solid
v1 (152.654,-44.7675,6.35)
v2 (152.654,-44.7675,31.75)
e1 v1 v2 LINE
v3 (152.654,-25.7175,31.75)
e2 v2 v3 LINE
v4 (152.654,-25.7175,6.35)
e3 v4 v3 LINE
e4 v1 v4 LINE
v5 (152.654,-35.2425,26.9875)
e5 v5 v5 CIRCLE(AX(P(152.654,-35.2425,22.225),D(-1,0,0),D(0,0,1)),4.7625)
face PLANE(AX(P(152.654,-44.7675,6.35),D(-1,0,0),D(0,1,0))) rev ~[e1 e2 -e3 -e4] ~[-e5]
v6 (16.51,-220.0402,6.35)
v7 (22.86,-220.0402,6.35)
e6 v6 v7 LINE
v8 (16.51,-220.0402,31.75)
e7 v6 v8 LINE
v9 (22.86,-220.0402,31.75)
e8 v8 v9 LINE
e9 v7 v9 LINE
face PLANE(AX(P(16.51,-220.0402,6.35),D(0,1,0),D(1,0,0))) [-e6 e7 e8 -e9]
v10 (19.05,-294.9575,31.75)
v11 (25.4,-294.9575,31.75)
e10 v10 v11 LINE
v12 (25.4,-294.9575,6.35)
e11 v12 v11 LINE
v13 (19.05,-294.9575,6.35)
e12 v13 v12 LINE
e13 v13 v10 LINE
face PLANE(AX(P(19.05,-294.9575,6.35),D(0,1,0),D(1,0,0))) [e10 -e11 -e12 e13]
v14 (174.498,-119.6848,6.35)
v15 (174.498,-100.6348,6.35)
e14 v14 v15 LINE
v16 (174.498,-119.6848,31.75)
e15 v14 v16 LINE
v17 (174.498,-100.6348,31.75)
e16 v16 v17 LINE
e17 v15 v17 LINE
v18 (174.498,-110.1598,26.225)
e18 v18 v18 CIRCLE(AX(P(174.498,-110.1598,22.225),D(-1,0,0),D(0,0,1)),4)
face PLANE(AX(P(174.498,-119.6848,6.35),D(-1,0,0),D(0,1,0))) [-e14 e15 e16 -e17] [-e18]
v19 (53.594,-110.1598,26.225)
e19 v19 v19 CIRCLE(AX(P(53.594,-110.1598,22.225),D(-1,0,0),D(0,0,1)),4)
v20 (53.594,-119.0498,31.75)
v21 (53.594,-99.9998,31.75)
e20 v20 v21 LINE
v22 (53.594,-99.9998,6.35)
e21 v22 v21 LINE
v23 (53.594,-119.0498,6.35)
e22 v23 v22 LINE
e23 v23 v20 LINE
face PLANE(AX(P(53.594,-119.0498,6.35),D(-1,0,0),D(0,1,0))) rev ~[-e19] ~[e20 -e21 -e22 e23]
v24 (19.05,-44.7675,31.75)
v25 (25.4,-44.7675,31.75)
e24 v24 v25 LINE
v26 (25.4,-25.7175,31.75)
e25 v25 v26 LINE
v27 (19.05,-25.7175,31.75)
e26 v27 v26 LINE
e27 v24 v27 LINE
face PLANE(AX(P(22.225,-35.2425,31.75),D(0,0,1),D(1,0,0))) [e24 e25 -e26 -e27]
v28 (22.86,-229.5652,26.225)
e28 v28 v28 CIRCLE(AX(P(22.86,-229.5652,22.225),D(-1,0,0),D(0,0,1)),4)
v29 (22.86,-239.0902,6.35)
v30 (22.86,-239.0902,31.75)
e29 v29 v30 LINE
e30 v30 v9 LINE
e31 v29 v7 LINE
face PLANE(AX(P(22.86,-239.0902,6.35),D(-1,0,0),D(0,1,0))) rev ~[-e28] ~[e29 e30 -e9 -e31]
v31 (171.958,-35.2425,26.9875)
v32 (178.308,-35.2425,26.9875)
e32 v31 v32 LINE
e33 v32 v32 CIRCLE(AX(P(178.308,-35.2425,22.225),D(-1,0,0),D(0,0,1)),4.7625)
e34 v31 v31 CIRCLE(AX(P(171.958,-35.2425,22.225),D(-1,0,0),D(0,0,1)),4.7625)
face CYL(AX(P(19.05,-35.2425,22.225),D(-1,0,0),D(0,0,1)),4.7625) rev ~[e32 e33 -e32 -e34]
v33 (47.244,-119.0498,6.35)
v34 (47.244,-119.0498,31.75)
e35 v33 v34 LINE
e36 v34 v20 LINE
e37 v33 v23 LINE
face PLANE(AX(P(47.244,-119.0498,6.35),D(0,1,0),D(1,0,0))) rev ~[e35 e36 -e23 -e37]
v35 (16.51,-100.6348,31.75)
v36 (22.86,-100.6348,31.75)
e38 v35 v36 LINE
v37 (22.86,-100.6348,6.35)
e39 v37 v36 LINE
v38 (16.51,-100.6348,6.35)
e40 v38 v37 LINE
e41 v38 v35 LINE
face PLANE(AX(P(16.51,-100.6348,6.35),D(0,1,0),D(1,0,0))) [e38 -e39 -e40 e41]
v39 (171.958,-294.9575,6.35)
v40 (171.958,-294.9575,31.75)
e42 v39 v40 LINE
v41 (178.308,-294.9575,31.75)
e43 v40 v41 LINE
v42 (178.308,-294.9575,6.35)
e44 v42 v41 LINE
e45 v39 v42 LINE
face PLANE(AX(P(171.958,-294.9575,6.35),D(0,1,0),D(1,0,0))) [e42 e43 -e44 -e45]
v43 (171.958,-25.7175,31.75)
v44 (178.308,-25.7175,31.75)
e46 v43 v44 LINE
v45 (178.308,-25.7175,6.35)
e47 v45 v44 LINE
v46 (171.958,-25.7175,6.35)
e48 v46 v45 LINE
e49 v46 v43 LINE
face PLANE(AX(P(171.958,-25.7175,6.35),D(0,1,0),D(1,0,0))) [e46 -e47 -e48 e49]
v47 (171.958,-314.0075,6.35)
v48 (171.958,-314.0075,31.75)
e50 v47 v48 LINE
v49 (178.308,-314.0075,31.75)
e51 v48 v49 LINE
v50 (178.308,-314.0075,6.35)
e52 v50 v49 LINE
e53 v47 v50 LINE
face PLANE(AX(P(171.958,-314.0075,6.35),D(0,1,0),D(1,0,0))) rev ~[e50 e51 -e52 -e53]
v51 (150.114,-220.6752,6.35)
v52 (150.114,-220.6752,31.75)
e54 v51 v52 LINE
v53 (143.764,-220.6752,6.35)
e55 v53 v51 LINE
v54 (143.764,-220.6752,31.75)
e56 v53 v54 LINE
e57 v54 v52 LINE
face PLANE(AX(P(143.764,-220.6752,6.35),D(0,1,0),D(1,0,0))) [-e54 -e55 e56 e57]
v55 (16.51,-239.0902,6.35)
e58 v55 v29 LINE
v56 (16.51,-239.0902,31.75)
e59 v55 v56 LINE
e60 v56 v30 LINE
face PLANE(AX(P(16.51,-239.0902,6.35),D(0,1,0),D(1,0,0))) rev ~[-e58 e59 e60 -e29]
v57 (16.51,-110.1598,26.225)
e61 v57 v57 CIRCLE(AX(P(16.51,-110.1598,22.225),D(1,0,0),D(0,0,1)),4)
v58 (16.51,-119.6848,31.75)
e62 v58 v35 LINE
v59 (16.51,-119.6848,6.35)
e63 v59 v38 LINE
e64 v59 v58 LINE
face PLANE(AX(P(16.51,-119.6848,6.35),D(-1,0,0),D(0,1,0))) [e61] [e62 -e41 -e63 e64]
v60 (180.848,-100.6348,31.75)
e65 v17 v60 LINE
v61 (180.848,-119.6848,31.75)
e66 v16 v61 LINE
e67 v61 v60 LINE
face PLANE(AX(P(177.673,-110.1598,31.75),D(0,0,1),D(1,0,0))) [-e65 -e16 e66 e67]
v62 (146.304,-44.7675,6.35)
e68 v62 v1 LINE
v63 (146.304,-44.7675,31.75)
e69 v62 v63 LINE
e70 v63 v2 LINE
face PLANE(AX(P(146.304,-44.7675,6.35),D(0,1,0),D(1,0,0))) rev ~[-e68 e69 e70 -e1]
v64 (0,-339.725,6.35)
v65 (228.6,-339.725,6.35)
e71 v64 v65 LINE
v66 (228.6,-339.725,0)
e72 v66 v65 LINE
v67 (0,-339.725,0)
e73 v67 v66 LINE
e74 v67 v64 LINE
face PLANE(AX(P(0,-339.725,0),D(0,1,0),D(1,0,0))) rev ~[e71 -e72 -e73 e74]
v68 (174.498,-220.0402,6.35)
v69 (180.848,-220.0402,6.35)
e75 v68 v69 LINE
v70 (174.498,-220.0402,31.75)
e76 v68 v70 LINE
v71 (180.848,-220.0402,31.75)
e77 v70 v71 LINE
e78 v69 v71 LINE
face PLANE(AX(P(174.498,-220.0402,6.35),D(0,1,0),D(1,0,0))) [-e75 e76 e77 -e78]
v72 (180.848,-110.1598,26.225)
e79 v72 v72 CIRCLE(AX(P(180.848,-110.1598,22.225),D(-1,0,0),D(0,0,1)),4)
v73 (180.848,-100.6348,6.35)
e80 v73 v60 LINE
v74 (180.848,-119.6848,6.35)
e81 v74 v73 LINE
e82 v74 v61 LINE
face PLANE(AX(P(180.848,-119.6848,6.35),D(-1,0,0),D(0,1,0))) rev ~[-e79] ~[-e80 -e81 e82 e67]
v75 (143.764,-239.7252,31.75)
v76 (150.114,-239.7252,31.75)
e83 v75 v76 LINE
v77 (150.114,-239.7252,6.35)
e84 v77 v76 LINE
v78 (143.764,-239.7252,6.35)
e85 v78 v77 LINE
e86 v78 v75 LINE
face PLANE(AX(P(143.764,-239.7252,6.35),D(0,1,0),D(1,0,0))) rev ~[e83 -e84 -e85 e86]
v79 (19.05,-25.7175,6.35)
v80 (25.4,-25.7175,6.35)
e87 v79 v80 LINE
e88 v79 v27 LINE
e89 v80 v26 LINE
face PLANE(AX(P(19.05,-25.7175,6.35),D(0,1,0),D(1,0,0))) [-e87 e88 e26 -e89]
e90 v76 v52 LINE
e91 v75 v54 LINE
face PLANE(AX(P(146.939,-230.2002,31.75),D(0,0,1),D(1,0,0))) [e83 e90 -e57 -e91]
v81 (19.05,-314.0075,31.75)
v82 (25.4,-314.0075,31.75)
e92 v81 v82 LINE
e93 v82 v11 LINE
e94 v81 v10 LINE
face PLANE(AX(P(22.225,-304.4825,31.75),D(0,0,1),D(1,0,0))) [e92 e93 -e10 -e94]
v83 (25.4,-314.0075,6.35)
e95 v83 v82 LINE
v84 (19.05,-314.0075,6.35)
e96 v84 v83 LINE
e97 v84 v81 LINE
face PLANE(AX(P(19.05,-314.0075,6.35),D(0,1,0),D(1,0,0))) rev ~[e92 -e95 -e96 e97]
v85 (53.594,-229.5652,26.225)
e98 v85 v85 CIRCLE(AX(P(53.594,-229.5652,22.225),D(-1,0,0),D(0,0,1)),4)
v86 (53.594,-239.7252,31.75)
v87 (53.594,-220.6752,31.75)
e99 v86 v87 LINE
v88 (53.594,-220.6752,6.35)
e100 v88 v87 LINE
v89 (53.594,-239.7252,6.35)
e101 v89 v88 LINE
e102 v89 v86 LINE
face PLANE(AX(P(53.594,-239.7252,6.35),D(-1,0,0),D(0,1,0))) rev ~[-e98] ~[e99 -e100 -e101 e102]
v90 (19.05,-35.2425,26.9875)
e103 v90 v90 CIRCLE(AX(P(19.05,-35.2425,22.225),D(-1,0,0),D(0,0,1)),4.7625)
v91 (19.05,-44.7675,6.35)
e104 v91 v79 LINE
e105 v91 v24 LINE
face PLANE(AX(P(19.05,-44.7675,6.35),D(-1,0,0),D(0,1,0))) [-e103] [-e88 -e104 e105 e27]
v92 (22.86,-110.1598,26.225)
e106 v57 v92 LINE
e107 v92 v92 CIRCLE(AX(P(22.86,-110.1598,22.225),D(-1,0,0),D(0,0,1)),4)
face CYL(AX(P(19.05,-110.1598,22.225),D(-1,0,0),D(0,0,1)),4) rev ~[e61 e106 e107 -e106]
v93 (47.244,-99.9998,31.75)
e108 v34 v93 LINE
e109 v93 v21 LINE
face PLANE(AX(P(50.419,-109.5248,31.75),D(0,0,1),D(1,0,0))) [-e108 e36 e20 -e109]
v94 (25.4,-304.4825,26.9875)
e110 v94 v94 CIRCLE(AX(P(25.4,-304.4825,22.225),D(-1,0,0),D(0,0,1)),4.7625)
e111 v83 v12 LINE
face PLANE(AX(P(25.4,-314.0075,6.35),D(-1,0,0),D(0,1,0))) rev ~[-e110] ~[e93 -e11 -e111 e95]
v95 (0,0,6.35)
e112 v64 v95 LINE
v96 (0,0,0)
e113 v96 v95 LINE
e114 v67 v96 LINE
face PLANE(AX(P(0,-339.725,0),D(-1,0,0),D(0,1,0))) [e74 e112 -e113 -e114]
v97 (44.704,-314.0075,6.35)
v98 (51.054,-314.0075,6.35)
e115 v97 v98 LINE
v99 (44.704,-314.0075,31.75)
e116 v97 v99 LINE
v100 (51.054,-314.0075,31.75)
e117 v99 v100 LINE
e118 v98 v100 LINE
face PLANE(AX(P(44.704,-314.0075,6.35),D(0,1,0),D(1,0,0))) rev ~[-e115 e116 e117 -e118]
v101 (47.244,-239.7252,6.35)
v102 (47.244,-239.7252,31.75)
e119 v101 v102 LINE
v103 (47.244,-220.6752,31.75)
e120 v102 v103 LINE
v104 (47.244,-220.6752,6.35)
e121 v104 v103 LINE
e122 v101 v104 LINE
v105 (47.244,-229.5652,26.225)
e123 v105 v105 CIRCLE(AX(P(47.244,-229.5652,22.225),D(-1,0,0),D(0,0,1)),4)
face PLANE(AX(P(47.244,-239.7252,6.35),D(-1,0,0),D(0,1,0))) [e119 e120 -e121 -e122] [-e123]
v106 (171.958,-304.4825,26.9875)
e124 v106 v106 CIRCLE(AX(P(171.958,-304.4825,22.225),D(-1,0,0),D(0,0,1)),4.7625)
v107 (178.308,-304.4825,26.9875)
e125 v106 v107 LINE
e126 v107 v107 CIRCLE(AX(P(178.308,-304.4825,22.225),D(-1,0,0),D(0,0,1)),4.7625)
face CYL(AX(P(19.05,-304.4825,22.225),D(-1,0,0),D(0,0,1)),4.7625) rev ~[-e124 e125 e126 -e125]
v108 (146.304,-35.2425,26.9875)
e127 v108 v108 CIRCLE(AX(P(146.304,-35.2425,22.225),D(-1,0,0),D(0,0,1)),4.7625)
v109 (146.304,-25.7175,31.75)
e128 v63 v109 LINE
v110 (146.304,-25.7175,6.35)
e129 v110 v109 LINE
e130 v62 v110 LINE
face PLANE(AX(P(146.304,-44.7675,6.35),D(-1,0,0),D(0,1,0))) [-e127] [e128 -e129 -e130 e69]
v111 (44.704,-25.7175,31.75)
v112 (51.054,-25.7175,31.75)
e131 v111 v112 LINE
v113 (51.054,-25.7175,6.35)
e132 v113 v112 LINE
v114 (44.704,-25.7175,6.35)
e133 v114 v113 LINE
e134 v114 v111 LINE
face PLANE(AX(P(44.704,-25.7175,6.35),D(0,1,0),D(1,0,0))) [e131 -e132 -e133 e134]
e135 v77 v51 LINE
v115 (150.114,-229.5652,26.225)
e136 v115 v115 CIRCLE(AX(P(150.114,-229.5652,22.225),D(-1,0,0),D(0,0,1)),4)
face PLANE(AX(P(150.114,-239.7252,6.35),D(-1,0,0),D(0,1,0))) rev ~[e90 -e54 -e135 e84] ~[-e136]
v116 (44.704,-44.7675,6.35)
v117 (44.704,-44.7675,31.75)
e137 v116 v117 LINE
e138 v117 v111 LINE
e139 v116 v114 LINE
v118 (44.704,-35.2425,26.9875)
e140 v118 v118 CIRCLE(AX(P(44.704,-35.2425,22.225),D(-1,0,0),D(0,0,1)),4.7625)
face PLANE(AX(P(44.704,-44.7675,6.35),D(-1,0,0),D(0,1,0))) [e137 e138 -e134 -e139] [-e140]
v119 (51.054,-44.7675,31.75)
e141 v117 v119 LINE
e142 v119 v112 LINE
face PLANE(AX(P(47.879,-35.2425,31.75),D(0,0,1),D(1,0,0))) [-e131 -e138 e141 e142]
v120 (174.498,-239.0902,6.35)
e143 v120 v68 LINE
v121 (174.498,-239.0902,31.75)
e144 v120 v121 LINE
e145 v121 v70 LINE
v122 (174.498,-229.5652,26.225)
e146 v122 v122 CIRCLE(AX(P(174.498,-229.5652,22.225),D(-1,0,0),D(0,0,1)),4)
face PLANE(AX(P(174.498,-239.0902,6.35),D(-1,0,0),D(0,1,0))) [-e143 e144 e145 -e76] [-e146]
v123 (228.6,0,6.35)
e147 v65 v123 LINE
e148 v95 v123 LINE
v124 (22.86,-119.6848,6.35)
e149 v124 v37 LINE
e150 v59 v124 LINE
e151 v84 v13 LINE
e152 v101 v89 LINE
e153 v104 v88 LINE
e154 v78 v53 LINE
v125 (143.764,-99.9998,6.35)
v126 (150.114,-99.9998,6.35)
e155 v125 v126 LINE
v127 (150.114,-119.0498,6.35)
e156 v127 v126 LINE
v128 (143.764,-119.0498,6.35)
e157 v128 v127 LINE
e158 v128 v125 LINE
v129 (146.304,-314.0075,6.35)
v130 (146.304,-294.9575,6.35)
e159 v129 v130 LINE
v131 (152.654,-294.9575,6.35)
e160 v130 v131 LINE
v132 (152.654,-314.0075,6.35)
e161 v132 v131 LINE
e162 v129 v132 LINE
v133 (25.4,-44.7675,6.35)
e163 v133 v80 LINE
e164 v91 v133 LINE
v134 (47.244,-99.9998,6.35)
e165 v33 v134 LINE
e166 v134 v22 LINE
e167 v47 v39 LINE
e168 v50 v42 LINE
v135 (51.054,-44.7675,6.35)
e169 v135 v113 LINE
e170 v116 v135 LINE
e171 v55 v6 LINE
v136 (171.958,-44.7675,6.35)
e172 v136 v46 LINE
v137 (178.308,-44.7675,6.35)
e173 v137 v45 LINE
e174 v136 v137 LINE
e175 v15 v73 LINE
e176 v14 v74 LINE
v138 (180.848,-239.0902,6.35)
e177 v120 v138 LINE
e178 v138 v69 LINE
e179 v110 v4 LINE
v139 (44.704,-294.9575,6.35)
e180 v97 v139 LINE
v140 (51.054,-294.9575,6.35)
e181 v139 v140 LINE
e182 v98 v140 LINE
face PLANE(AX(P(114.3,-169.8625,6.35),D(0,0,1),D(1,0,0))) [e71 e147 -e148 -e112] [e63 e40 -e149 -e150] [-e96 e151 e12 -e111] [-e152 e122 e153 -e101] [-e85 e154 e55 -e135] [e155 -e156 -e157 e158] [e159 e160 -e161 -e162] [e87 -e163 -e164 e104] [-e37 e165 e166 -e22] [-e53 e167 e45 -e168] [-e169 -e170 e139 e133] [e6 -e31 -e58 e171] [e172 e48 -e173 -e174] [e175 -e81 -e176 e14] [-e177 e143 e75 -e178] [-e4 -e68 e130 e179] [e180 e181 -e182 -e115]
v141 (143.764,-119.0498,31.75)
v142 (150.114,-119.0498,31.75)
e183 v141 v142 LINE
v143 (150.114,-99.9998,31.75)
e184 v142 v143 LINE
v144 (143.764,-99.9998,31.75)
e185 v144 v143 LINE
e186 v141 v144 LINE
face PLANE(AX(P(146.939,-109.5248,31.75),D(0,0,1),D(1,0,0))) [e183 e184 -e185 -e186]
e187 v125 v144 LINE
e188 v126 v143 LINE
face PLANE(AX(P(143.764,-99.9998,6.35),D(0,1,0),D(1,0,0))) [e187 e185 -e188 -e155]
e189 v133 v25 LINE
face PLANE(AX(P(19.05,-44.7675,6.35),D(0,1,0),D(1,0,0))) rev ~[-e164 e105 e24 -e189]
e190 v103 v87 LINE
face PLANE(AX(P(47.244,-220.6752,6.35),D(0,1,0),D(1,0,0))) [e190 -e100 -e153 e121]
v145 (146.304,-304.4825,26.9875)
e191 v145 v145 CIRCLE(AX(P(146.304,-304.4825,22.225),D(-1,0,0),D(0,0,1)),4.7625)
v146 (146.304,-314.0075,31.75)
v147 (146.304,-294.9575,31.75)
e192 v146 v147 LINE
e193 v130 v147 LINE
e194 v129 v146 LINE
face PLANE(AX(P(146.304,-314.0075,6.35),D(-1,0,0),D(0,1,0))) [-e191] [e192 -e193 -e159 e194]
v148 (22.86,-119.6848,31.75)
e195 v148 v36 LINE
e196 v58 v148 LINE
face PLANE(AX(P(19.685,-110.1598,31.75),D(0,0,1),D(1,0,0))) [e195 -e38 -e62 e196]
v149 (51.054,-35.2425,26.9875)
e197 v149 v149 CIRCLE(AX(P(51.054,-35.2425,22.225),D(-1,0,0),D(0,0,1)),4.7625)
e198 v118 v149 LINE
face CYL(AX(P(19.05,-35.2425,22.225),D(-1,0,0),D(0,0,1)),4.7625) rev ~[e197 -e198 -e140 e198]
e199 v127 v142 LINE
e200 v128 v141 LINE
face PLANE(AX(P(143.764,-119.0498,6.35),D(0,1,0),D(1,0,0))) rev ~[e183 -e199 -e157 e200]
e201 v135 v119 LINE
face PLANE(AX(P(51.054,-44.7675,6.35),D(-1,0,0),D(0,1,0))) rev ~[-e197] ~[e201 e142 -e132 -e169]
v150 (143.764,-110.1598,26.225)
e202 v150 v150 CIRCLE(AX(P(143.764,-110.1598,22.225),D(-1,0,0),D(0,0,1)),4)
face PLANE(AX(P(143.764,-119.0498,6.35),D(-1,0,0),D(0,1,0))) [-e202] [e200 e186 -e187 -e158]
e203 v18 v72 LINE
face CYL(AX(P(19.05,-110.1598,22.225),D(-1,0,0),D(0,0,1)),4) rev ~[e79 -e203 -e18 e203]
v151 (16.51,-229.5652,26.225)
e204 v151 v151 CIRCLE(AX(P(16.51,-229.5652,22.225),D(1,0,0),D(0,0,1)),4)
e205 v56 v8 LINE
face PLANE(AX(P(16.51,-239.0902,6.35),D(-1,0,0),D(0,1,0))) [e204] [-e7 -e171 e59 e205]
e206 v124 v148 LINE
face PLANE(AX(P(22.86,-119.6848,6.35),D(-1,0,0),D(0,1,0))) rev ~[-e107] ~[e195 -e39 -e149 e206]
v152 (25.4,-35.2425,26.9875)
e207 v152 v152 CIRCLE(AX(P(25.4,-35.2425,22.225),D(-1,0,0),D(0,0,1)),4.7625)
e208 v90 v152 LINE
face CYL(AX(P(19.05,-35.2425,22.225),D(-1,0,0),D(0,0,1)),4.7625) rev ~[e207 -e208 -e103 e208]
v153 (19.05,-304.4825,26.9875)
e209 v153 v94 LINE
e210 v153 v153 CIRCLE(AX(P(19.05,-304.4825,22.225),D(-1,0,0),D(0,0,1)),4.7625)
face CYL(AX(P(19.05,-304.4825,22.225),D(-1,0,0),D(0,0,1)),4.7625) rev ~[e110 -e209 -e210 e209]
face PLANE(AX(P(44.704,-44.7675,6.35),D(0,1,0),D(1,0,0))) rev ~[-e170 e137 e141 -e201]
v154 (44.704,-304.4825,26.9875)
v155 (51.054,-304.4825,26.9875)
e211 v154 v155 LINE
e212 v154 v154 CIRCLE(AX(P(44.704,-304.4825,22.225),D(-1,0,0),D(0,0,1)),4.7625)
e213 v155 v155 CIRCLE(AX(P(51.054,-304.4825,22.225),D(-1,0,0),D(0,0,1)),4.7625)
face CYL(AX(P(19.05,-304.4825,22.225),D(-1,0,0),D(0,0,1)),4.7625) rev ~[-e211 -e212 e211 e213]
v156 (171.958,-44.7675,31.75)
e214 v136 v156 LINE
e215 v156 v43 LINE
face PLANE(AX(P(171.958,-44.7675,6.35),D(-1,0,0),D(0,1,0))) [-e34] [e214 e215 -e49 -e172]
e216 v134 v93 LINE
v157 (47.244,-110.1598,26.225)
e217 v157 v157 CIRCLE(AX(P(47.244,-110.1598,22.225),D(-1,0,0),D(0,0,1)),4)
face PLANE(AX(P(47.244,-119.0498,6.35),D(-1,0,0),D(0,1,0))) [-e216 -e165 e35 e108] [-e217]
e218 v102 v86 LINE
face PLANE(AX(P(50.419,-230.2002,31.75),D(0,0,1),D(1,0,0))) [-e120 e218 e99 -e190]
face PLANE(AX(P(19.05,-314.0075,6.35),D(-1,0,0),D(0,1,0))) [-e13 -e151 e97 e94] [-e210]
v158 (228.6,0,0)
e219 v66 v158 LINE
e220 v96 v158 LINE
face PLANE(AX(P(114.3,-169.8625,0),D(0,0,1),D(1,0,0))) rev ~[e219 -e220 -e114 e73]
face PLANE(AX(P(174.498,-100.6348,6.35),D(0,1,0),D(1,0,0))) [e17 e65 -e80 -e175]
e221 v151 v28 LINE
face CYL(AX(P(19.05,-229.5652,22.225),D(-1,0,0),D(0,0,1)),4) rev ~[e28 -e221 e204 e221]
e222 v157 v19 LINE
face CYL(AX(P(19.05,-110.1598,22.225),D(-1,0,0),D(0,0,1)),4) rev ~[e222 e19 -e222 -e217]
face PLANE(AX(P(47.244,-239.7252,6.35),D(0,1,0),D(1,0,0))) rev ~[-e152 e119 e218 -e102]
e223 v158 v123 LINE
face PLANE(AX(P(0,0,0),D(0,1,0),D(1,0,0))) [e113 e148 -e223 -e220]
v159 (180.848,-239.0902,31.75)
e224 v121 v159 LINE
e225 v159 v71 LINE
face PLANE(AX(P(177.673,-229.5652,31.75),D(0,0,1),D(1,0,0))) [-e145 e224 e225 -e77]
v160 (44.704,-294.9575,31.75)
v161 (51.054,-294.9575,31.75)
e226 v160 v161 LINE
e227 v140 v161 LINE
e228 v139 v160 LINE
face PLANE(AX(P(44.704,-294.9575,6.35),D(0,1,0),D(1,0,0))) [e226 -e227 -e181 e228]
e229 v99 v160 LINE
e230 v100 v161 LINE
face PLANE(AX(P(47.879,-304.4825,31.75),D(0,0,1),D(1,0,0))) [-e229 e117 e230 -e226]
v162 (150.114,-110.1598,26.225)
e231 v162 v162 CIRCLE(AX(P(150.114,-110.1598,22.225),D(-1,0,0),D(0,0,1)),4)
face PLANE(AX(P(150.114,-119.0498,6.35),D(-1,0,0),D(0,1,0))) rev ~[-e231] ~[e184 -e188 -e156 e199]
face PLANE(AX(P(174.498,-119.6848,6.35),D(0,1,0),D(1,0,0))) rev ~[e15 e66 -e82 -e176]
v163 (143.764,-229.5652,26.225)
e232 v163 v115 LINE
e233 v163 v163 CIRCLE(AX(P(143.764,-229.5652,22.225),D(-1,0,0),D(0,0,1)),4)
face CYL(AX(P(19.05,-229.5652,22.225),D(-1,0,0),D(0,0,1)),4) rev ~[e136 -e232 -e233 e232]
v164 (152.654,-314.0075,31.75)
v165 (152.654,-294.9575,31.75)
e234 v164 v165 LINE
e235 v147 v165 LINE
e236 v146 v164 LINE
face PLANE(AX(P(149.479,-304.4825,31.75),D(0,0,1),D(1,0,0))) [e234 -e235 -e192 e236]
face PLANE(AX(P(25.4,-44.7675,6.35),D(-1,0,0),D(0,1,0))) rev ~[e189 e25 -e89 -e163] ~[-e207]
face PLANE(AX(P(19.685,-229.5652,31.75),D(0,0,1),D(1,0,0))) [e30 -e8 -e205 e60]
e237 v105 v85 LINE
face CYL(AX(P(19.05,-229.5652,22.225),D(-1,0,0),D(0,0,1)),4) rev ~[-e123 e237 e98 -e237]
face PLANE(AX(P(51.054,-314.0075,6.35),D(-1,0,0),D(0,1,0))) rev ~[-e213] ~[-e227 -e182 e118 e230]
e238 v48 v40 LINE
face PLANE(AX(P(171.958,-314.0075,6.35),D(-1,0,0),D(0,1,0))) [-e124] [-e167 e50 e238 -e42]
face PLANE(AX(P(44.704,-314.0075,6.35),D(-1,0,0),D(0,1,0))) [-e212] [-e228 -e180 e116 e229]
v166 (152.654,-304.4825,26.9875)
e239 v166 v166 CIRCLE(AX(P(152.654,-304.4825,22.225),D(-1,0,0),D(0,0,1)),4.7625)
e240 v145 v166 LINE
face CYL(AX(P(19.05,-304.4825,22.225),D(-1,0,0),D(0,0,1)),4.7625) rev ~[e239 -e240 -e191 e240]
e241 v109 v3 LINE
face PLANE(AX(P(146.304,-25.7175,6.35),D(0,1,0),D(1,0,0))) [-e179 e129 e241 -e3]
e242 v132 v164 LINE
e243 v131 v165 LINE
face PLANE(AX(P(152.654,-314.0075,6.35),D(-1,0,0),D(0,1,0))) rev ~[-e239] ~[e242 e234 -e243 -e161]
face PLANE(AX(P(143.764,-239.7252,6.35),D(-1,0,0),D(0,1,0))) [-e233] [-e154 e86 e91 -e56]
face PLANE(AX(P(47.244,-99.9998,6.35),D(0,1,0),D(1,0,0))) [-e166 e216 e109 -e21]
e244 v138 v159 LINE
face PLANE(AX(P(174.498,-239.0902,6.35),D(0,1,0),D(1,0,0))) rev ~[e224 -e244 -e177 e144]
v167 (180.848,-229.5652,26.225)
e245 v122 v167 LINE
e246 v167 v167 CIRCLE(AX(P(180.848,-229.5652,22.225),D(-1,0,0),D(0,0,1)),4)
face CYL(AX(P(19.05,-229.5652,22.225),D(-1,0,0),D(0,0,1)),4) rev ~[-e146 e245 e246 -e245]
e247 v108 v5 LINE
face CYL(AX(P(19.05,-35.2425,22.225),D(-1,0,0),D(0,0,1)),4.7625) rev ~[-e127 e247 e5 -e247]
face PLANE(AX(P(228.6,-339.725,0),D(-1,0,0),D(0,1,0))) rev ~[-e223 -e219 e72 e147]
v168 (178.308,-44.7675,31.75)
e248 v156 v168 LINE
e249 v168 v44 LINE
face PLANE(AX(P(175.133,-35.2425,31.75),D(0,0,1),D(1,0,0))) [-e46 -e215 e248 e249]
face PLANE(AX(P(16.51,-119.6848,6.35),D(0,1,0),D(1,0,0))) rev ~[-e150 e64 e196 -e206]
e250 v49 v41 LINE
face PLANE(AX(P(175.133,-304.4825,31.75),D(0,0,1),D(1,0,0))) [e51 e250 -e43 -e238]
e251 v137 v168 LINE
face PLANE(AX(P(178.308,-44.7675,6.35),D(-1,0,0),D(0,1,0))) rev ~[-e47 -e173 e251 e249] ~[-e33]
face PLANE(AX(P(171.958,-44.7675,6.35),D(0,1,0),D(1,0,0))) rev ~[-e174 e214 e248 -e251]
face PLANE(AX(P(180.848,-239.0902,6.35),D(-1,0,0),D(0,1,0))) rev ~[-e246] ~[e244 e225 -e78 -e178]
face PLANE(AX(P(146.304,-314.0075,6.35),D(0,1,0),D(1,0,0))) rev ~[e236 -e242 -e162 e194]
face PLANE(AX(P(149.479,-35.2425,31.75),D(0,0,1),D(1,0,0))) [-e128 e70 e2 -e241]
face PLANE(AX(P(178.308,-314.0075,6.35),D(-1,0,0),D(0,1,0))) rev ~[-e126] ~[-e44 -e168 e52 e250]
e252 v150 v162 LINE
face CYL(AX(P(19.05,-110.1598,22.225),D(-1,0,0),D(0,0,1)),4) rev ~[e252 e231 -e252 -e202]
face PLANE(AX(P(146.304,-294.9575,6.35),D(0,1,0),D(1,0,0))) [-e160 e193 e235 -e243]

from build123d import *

# Parameters (mm, degrees)
SKETCH1_W               = 228.6
SKETCH1_H               = 339.725
BOSS_EXTRUDE1_DEPTH     = 6.35
SKETCH2_W               = 6.35
SKETCH2_H               = 19.05
BOSS_EXTRUDE2_DEPTH     = 25.4
SKETCH3_R               = 4.7625
SKETCH3_R_2             = 4
CUT_EXTRUDE1_DEPTH      = 20.05
CUT_EXTRUDE1_DEPTH_BACK = 210.55


with BuildPart() as part:
    # Sketch1 → Boss-Extrude1 (new body)
    with BuildSketch(Plane.XY):
        with Locations((114.3, -169.8625)):
            Rectangle(SKETCH1_W, SKETCH1_H)
    extrude(amount=BOSS_EXTRUDE1_DEPTH)

    # Sketch2 → Boss-Extrude2 (add)
    with BuildSketch(Plane.XY.offset(6.35)):
        with Locations((22.225, -35.2425)):
            Rectangle(SKETCH2_W, SKETCH2_H)
        with Locations((47.879, -35.2425)):
            Rectangle(SKETCH2_W, SKETCH2_H)
        with Locations((149.479, -35.2425)):
            Rectangle(SKETCH2_W, SKETCH2_H)
        with Locations((175.133, -35.2425)):
            Rectangle(SKETCH2_W, SKETCH2_H)
        with Locations((22.225, -304.4825)):
            Rectangle(SKETCH2_W, SKETCH2_H)
        with Locations((47.879, -304.4825)):
            Rectangle(SKETCH2_W, SKETCH2_H)
        with Locations((149.479, -304.4825)):
            Rectangle(SKETCH2_W, SKETCH2_H)
        with Locations((175.133, -304.4825)):
            Rectangle(SKETCH2_W, SKETCH2_H)
        with Locations((19.685, -110.1598)):
            Rectangle(SKETCH2_W, SKETCH2_H)
        with Locations((50.419, -109.5248)):
            Rectangle(SKETCH2_W, SKETCH2_H)
        with Locations((146.939, -109.5248)):
            Rectangle(SKETCH2_W, SKETCH2_H)
        with Locations((177.673, -110.1598)):
            Rectangle(SKETCH2_W, SKETCH2_H)
        with Locations((177.673, -229.5652)):
            Rectangle(SKETCH2_W, SKETCH2_H)
        with Locations((146.939, -230.2002)):
            Rectangle(SKETCH2_W, SKETCH2_H)
        with Locations((50.419, -230.2002)):
            Rectangle(SKETCH2_W, SKETCH2_H)
        with Locations((19.685, -229.5652)):
            Rectangle(SKETCH2_W, SKETCH2_H)
    extrude(amount=BOSS_EXTRUDE2_DEPTH)

    # Sketch3 → Cut-Extrude1 (cut, two sides)
    with BuildSketch(Plane.ZY.offset(-19.05)) as cut_extrude1_sk:
        with Locations((22.225, -35.2425)):
            Circle(SKETCH3_R)
        with Locations((22.225, -229.5652)):
            Circle(SKETCH3_R_2)
        with Locations((22.225, -304.4825)):
            Circle(SKETCH3_R)
        with Locations((22.225, -110.1598)):
            Circle(SKETCH3_R_2)
    extrude(amount=CUT_EXTRUDE1_DEPTH, mode=Mode.SUBTRACT)
    extrude(cut_extrude1_sk.sketch, amount=-CUT_EXTRUDE1_DEPTH_BACK, mode=Mode.SUBTRACT)


solid = part.part
